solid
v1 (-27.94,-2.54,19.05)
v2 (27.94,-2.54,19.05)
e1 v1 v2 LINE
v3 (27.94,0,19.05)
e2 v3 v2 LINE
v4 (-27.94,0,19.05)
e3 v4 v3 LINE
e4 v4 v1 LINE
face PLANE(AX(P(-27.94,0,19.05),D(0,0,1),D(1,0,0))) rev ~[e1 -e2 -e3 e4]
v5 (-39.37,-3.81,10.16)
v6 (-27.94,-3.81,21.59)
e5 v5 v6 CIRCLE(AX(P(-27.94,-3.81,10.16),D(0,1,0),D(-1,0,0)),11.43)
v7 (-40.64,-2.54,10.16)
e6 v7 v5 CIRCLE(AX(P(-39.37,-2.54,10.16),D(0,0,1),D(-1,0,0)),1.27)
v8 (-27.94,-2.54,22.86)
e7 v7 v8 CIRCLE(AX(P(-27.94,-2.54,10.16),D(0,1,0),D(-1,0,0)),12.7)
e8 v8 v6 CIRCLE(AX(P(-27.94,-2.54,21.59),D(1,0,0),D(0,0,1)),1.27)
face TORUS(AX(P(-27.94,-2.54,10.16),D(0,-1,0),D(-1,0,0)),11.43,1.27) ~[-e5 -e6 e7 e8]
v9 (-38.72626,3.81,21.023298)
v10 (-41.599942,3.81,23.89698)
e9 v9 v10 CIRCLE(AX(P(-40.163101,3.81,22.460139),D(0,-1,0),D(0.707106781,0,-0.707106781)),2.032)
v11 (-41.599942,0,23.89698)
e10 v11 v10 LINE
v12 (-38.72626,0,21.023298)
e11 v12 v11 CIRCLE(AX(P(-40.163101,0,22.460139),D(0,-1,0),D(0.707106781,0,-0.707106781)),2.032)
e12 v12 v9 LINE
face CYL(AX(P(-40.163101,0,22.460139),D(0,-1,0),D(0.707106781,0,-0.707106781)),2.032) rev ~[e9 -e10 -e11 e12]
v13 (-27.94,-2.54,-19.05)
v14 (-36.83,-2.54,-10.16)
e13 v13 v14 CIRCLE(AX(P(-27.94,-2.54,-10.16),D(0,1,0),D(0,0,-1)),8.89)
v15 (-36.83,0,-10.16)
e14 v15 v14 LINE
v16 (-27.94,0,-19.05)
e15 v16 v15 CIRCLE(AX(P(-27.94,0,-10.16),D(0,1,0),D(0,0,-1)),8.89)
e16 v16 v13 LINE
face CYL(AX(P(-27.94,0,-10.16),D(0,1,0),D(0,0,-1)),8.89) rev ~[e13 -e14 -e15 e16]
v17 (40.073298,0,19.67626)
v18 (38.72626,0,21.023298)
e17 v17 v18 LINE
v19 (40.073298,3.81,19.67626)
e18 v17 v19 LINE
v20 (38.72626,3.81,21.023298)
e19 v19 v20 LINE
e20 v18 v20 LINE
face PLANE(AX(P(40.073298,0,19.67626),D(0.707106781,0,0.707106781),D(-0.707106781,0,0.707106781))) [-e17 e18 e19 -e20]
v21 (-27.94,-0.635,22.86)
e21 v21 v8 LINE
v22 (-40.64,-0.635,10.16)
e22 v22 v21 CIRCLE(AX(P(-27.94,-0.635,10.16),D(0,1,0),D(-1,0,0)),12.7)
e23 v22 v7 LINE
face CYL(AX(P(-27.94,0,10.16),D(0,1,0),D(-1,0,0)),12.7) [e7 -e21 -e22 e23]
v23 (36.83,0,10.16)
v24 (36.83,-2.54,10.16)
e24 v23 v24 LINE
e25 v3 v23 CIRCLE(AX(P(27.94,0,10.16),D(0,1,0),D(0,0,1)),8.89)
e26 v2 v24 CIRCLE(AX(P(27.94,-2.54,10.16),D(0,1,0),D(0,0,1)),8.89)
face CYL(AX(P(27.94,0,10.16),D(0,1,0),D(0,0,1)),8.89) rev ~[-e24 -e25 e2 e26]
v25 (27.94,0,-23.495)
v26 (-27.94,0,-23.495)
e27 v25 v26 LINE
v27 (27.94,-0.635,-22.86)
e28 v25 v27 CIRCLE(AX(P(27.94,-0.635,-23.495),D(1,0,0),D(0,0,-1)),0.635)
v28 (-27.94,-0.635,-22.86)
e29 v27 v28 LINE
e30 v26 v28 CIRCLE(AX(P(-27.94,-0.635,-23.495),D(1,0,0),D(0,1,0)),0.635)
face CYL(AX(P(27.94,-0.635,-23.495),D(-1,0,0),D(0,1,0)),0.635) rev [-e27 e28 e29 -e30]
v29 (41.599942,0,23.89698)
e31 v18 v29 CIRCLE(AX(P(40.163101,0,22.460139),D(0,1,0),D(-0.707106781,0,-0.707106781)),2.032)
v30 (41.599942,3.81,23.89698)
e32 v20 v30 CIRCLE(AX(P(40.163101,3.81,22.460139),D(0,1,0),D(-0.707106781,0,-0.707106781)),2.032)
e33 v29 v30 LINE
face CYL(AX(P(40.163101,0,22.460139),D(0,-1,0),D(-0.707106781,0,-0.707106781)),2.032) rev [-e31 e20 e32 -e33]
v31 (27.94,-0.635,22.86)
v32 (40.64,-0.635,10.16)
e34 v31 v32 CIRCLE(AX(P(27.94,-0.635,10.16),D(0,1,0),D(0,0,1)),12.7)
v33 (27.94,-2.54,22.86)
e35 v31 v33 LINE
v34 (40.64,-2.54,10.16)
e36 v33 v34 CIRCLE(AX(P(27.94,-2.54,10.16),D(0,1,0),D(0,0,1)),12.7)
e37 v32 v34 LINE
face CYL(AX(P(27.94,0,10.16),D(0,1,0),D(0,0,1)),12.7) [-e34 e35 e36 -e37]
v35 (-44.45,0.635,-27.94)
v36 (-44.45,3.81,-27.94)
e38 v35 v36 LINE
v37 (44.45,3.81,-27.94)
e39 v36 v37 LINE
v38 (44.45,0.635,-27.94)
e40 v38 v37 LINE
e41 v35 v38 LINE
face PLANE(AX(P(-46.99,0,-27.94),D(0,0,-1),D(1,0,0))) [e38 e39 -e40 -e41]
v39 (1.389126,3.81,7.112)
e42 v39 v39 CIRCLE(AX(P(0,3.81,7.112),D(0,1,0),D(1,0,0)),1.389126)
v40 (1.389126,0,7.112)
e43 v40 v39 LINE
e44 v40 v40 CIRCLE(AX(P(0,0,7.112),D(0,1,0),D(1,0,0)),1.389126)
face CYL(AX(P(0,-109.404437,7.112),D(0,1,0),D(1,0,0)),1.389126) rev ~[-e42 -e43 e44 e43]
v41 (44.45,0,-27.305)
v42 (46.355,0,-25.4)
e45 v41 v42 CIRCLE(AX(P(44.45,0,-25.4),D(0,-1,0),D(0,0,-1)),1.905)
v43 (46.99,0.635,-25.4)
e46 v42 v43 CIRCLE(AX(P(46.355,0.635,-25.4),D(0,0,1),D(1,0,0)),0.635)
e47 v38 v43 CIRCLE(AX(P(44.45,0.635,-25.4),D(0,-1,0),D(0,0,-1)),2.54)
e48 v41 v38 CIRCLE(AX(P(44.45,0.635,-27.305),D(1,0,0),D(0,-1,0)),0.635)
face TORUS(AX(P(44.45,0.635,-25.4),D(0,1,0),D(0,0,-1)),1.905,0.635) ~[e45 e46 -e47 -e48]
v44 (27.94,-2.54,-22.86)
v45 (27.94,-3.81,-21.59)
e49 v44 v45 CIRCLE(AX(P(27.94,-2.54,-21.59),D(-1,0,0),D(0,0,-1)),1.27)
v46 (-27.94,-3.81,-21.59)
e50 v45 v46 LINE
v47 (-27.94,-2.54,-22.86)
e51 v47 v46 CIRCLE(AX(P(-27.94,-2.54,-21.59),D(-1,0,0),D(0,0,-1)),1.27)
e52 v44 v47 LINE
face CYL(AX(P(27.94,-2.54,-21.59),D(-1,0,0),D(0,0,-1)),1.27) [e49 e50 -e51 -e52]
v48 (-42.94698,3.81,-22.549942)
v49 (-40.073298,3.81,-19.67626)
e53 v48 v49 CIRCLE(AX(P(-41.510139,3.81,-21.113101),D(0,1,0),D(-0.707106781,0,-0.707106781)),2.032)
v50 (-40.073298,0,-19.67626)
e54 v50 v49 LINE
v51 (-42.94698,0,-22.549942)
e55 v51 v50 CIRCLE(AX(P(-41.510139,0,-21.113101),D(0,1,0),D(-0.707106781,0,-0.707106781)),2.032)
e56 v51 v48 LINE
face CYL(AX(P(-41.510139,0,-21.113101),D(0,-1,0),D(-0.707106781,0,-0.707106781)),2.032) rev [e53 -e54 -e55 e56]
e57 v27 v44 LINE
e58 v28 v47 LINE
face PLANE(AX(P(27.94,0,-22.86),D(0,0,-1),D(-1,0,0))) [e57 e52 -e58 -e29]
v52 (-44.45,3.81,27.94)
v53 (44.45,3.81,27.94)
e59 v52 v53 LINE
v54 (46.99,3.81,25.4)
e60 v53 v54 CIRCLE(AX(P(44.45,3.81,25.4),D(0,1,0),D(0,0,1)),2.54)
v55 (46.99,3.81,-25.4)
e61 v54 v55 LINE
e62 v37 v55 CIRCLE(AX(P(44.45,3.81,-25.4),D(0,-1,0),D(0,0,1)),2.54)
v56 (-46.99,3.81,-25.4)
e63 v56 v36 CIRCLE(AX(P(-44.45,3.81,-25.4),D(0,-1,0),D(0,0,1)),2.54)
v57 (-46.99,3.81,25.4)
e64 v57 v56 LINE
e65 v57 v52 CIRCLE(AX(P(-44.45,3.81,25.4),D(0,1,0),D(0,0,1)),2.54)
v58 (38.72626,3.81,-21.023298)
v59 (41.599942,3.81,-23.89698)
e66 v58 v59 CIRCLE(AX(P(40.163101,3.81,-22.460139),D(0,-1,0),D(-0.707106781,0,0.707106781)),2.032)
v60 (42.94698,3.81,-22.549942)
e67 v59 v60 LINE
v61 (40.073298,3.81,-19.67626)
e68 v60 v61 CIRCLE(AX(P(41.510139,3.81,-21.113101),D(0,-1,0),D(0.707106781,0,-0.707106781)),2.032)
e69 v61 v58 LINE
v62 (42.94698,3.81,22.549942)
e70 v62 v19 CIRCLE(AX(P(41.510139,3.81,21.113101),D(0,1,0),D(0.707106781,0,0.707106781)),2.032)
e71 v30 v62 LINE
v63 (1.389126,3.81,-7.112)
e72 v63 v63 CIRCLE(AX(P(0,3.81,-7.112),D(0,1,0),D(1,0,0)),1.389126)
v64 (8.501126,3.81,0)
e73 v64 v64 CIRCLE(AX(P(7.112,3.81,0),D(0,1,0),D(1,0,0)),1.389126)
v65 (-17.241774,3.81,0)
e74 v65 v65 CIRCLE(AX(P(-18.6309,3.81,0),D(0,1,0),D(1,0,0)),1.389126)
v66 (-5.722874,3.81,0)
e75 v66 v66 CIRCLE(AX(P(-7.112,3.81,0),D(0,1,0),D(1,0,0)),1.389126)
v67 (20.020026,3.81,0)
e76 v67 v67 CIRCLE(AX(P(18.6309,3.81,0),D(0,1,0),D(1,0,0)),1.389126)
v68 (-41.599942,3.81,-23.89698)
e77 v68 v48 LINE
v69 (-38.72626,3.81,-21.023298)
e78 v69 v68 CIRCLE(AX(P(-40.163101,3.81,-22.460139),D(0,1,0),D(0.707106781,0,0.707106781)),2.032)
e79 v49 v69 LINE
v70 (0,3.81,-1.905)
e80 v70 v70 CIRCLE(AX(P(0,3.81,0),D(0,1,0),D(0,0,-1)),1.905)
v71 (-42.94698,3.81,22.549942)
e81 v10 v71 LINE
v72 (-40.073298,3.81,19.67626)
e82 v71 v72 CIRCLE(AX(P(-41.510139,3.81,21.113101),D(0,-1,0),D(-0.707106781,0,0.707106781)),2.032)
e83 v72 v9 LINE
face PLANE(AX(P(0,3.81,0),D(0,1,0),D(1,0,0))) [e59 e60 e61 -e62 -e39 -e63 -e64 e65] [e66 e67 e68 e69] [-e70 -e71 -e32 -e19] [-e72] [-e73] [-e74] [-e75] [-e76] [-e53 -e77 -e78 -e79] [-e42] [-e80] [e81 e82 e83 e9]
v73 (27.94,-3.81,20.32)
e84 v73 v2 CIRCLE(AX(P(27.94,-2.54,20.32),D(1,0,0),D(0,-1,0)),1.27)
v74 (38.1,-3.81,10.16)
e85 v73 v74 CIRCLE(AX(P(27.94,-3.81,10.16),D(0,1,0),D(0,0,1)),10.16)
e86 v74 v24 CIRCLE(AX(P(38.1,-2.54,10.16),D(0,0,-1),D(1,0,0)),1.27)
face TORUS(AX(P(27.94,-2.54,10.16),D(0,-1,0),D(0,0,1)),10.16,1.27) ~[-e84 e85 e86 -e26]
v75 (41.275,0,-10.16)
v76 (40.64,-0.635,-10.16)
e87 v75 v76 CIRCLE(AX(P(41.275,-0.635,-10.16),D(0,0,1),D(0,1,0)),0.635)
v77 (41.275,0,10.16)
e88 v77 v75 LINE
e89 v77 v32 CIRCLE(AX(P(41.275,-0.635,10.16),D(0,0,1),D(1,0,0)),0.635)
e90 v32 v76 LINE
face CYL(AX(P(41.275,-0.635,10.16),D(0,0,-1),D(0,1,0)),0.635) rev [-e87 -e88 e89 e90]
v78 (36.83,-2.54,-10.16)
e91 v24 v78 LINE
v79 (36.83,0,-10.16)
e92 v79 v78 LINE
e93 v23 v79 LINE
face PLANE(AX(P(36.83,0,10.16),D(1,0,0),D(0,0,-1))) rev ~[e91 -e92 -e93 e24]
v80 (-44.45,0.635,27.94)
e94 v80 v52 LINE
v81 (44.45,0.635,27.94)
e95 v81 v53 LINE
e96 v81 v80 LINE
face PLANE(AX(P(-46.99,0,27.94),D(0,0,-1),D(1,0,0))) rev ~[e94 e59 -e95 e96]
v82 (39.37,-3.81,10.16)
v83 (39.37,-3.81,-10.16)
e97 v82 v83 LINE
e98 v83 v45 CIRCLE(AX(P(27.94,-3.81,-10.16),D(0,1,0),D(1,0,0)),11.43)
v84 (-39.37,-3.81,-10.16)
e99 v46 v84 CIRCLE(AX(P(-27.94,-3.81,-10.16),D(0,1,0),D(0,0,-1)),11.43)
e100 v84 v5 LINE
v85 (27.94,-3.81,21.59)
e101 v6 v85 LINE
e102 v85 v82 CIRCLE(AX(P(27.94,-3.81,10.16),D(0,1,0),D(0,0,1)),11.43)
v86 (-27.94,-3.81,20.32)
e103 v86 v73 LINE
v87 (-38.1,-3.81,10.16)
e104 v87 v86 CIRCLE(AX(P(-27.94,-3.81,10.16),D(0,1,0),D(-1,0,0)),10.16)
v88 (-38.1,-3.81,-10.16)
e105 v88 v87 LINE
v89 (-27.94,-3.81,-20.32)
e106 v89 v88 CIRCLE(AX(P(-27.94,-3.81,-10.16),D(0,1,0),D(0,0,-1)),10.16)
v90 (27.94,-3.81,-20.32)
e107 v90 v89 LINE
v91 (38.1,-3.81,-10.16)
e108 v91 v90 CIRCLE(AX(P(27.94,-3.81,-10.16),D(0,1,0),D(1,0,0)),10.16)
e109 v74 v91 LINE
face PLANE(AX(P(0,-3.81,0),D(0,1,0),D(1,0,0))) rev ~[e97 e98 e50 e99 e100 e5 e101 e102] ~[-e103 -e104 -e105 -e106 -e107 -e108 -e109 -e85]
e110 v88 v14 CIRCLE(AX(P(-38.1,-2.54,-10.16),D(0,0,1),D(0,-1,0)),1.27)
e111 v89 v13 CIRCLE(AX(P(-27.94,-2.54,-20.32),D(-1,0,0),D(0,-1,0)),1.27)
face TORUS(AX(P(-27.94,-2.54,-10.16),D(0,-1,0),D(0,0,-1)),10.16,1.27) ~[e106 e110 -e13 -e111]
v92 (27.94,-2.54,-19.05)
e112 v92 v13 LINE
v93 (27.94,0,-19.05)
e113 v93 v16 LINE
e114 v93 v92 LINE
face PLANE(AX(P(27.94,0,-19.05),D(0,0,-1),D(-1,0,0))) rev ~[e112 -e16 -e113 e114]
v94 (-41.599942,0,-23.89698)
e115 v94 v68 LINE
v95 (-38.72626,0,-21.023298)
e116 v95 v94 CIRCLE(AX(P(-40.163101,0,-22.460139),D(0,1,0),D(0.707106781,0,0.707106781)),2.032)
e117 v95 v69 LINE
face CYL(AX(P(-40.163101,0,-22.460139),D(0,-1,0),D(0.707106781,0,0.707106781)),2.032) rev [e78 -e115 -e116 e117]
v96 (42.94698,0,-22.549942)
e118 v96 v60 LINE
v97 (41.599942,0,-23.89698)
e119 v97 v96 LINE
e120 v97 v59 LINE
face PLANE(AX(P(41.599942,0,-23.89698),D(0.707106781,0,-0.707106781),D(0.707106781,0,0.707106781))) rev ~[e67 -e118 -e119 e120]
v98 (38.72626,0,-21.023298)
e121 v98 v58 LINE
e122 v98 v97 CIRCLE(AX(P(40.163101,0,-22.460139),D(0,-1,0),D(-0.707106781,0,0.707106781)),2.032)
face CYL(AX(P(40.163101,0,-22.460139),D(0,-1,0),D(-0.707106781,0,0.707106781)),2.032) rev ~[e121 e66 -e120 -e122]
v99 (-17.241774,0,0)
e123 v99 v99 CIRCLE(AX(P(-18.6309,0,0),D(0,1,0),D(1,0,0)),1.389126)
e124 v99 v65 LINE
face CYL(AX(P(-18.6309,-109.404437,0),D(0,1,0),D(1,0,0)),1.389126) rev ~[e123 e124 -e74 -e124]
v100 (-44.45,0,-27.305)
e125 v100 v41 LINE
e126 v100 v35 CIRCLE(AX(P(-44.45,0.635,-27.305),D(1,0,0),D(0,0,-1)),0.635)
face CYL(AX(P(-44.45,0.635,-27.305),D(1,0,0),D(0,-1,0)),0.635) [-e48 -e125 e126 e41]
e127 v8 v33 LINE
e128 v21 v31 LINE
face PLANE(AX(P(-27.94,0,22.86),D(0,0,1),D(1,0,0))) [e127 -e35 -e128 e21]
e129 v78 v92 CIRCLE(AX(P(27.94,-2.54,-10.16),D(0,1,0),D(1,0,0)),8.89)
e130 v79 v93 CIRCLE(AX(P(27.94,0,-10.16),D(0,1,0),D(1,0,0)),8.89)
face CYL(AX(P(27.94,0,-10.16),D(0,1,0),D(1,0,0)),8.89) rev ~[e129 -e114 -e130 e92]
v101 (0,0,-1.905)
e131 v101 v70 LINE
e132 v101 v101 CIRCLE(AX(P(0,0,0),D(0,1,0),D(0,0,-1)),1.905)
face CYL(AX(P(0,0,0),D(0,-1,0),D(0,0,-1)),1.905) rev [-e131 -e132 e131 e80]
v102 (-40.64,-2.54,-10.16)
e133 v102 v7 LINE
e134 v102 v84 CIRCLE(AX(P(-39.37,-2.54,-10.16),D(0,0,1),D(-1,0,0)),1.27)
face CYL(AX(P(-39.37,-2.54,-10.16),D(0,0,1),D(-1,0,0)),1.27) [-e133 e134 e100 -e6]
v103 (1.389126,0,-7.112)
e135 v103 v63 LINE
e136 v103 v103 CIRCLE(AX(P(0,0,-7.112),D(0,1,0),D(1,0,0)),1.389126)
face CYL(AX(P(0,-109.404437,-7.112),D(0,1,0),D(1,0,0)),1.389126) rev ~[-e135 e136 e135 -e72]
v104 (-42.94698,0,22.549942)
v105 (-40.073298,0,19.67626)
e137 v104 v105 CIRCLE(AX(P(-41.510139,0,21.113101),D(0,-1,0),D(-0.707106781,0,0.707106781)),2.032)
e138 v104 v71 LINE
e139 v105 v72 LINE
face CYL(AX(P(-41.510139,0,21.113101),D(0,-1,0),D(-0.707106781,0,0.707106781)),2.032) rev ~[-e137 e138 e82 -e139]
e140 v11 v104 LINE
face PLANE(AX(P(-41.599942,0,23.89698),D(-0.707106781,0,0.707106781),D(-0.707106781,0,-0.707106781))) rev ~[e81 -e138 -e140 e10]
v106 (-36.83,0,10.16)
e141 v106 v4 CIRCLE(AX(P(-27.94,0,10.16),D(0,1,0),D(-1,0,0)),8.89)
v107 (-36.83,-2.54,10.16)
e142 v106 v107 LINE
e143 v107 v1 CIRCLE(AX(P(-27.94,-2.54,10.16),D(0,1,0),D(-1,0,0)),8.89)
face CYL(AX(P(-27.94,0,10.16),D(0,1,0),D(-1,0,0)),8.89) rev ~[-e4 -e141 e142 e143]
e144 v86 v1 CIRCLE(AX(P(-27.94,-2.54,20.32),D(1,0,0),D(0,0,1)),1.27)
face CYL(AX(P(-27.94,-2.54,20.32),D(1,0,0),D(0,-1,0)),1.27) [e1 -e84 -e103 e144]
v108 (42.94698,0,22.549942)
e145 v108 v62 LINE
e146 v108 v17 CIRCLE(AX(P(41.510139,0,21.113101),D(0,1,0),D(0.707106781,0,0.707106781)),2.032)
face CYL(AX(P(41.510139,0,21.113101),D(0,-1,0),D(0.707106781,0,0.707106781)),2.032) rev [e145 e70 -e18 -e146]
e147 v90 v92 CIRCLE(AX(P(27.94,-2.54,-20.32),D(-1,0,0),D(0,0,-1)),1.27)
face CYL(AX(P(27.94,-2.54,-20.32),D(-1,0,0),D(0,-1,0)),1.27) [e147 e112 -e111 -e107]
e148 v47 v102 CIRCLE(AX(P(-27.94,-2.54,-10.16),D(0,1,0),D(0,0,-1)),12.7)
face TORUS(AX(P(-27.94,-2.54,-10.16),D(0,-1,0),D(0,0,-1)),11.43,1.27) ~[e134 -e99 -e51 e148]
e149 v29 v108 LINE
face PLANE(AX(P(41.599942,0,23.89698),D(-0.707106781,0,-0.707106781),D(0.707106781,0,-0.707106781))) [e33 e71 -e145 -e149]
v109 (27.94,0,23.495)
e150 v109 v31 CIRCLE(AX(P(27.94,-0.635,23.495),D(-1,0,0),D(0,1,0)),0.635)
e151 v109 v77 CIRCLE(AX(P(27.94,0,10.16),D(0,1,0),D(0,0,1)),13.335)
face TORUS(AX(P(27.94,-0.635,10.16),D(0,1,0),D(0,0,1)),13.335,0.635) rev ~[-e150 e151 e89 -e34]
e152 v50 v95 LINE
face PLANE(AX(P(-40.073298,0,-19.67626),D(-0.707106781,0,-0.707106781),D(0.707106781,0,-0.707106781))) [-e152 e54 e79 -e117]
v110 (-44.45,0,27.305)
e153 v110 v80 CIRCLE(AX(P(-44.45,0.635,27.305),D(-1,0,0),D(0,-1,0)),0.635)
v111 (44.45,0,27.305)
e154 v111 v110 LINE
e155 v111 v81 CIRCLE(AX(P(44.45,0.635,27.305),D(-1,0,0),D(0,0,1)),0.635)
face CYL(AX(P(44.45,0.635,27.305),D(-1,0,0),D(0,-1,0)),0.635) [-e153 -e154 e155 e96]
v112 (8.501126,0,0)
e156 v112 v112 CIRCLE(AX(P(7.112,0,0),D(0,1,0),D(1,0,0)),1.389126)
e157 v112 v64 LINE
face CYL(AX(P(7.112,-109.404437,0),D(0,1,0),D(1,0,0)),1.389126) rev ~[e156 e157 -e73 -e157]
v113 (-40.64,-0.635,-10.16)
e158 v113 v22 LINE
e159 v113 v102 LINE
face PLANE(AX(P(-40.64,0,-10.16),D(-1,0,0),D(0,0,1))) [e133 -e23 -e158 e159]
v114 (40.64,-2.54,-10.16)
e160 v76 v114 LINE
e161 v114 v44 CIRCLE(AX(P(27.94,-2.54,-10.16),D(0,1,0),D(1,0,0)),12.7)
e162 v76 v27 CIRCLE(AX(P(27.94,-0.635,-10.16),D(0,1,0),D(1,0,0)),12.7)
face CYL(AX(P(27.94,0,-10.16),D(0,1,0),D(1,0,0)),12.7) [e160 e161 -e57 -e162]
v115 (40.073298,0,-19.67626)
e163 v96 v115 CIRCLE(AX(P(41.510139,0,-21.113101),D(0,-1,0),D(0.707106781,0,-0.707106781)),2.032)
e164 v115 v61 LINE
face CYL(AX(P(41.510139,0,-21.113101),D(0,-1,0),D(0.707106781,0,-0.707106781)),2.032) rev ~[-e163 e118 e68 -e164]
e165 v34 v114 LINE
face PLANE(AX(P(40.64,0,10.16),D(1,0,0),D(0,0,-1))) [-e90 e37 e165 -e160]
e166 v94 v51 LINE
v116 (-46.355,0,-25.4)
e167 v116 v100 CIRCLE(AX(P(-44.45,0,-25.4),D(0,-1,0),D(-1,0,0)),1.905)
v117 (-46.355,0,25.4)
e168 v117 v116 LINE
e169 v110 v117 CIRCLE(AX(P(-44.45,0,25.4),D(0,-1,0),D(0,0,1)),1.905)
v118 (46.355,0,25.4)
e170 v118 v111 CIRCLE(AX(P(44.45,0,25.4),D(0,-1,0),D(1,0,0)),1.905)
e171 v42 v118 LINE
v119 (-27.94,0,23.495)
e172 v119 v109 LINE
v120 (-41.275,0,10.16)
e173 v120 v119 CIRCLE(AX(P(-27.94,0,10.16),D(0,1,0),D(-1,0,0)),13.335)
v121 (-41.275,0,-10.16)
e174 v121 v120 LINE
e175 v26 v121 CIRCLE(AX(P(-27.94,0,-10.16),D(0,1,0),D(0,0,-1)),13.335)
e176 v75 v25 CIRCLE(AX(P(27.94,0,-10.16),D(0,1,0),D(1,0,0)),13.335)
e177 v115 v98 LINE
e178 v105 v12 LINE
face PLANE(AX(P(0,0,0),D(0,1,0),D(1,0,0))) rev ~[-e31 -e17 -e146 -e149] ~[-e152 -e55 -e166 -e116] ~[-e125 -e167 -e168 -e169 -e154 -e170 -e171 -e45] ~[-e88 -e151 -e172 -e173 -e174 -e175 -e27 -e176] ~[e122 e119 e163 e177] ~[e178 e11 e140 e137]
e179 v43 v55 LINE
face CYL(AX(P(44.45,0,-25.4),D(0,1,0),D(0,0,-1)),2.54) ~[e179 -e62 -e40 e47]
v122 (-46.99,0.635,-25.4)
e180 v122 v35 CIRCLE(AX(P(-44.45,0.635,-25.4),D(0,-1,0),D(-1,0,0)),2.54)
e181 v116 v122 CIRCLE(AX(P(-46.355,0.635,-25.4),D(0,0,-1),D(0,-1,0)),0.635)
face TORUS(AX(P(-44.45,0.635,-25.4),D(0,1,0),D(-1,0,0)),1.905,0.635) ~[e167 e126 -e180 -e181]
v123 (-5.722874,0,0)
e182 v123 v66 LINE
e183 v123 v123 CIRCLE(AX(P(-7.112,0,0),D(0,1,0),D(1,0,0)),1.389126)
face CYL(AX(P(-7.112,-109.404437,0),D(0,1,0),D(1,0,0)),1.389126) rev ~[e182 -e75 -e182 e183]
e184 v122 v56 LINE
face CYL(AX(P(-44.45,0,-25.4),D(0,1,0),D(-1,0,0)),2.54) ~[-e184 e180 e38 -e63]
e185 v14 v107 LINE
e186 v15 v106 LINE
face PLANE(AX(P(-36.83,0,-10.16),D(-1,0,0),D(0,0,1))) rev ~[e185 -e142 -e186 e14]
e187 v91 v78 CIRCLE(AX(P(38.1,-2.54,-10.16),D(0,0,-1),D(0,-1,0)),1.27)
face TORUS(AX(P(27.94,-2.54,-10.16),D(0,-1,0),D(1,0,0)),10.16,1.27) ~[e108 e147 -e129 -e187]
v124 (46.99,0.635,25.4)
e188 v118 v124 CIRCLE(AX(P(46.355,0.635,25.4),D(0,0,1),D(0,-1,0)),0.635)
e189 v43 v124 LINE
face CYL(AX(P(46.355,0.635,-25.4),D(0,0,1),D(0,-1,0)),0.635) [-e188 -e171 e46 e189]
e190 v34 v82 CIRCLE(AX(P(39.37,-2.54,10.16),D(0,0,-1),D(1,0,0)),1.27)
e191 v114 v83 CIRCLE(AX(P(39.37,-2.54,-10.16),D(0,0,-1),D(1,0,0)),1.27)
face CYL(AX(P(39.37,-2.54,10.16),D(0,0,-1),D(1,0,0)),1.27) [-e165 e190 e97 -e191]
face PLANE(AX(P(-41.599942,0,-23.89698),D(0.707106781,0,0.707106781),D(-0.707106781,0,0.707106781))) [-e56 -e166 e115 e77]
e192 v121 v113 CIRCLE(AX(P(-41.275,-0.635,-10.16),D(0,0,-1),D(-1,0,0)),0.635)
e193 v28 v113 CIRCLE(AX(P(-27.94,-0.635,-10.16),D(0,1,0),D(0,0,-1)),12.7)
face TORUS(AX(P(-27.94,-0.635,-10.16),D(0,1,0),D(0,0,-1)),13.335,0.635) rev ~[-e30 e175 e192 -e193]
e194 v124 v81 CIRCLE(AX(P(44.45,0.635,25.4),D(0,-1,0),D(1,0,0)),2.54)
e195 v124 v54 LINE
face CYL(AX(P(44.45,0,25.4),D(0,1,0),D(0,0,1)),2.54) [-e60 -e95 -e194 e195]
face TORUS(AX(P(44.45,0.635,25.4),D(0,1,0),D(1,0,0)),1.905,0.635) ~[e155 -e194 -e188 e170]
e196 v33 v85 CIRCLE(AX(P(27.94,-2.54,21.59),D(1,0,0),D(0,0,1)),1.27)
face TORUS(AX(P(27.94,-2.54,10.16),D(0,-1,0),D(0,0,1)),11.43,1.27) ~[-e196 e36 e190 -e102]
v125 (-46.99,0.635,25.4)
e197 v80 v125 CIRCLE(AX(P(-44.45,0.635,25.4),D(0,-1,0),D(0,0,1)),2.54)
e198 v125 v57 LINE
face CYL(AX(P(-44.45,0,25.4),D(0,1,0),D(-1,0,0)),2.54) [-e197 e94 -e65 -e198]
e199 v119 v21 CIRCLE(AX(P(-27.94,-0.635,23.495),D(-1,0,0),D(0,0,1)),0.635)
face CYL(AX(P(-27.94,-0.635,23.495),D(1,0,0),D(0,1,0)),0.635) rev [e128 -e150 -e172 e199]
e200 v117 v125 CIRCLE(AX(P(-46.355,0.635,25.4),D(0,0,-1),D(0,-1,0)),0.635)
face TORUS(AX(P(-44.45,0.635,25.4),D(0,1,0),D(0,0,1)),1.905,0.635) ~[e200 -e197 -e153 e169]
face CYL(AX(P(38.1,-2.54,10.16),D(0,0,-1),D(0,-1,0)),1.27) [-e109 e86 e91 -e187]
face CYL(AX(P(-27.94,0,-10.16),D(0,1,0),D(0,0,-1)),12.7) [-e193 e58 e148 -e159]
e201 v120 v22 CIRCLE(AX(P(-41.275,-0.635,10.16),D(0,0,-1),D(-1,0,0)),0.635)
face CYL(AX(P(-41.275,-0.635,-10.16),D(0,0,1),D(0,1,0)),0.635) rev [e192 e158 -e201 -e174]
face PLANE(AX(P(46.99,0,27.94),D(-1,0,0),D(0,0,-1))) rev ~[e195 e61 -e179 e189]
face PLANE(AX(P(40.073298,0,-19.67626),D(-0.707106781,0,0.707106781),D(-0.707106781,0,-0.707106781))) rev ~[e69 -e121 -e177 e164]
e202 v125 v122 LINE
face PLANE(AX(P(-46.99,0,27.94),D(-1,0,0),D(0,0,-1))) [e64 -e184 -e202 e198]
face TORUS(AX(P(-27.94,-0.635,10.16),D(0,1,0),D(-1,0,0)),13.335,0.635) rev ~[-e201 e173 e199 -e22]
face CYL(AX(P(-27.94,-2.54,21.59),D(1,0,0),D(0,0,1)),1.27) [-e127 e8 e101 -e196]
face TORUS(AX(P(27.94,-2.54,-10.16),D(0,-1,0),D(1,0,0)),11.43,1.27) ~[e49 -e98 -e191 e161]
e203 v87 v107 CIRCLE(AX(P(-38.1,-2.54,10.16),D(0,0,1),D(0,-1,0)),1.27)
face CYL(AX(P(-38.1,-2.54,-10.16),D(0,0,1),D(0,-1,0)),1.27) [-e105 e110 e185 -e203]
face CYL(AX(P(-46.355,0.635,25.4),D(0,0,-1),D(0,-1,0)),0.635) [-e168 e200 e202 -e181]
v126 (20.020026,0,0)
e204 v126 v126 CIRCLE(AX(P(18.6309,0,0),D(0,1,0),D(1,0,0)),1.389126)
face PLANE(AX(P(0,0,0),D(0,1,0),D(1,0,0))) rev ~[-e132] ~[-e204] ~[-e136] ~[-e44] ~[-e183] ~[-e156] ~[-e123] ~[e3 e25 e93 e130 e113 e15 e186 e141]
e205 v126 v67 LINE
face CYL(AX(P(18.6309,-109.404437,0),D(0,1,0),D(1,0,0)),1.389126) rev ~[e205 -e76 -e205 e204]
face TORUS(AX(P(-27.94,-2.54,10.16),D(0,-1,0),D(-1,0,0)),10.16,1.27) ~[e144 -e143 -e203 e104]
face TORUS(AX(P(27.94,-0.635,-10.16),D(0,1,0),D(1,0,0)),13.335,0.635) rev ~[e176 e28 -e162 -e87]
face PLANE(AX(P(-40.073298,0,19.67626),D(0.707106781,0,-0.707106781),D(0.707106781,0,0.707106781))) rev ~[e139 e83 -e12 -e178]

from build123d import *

# Parameters (mm, degrees)
SKETCH1_W                       = 93.98
SKETCH1_H                       = 55.88
SKETCH1_R                       = 1.905
BOSS_EXTRUDE1_DEPTH             = 3.81
F_7_64_0_10938_DIAMETER_HOLE1_D = 2.778252
FILLET1_R                       = 2.54
EXTRUDE_THIN1_DEPTH             = 3.81
FILLET2_R                       = 1.27
FILLET3_R                       = 0.635


with BuildPart() as part:
    # Sketch1 → Boss-Extrude1 (new body)
    with BuildSketch(Plane(origin=(0, 0, 0), x_dir=(1, 0, 0), z_dir=(0, 1, 0))):
        Rectangle(SKETCH1_W, SKETCH1_H)
        with Locations(Location((0, 0, 0), (0, 0, 90))):
            Circle(SKETCH1_R, mode=Mode.SUBTRACT)
        with BuildLine():
            Line((40.073298182, 19.676259764), (38.726259764, 21.023298182))
            ThreePointArc((38.726259764, 21.023298182), (38.726259764, 23.896980141), (41.599941723, 23.896980141))
            Line((41.599941723, 23.896980141), (42.946980141, 22.549941723))
            ThreePointArc((42.946980141, 22.549941723), (42.946980141, 19.676259764), (40.073298182, 19.676259764))
        make_face(mode=Mode.SUBTRACT)
        with BuildLine():
            Line((-40.073298182, 19.676259764), (-38.726259764, 21.023298182))
            ThreePointArc((-38.726259764, 21.023298182), (-38.726259764, 23.896980141), (-41.599941723, 23.896980141))
            Line((-41.599941723, 23.896980141), (-42.946980141, 22.549941723))
            ThreePointArc((-42.946980141, 22.549941723), (-42.946980141, 19.676259764), (-40.073298182, 19.676259764))
        make_face(mode=Mode.SUBTRACT)
        with BuildLine():
            Line((40.073298182, -19.676259764), (38.726259764, -21.023298182))
            ThreePointArc((38.726259764, -21.023298182), (38.726259764, -23.896980141), (41.599941723, -23.896980141))
            Line((41.599941723, -23.896980141), (42.946980141, -22.549941723))
            ThreePointArc((42.946980141, -22.549941723), (42.946980141, -19.676259764), (40.073298182, -19.676259764))
        make_face(mode=Mode.SUBTRACT)
        with BuildLine():
            Line((-40.073298182, -19.676259764), (-38.726259764, -21.023298182))
            ThreePointArc((-38.726259764, -21.023298182), (-38.726259764, -23.896980141), (-41.599941723, -23.896980141))
            Line((-41.599941723, -23.896980141), (-42.946980141, -22.549941723))
            ThreePointArc((-42.946980141, -22.549941723), (-42.946980141, -19.676259764), (-40.073298182, -19.676259764))
        make_face(mode=Mode.SUBTRACT)
    extrude(amount=BOSS_EXTRUDE1_DEPTH)

    # 7/64 (0.10938) Diameter Hole1 (through all)
    with Locations(Plane(origin=(0, 0, 0), x_dir=(-1, 0, 0), z_dir=(0, -1, 0))):
        with Locations((-18.6309, 0), (0, 7.112), (-7.112, 0), (7.112, 0), (18.6309, 0), (0, -7.112)):
            Hole(F_7_64_0_10938_DIAMETER_HOLE1_D / 2)

    # Fillet1
    fillet1_edges = [part.edges().sort_by_distance(p)[0] for p in [
        (-46.99, 1.905, 27.94),
        (46.99, 1.905, 27.94),
        (46.99, 1.905, -27.94),
        (-46.99, 1.905, -27.94),
    ]]
    fillet(fillet1_edges, radius=FILLET1_R)

    # Sketch4 → Extrude-Thin1 (add)
    with BuildSketch(Plane(origin=(0, 0, 0), x_dir=(1, 0, 0), z_dir=(0, 1, 0))):
        with BuildLine():
            Line((-40.64, 10.16), (-40.64, -10.16))
            ThreePointArc((-40.64, -10.16), (-36.920256121, -19.140256121), (-27.94, -22.86))
            Line((-27.94, -22.86), (27.94, -22.86))
            ThreePointArc((27.94, -22.86), (36.920256121, -19.140256121), (40.64, -10.16))
            Line((40.64, -10.16), (40.64, 10.16))
            ThreePointArc((40.64, 10.16), (36.920256121, 19.140256121), (27.94, 22.86))
            Line((27.94, 22.86), (-27.94, 22.86))
            ThreePointArc((-27.94, 22.86), (-36.920256121, 19.140256121), (-40.64, 10.16))
        make_face()
        with BuildLine():
            Line((-36.83, 10.16), (-36.83, -10.16))
            ThreePointArc((-36.83, -10.16), (-34.226179285, -16.446179285), (-27.94, -19.05))
            Line((-27.94, -19.05), (27.94, -19.05))
            ThreePointArc((27.94, -19.05), (34.226179285, -16.446179285), (36.83, -10.16))
            Line((36.83, -10.16), (36.83, 10.16))
            ThreePointArc((36.83, 10.16), (34.226179285, 16.446179285), (27.94, 19.05))
            Line((27.94, 19.05), (-27.94, 19.05))
            ThreePointArc((-27.94, 19.05), (-34.226179285, 16.446179285), (-36.83, 10.16))
        make_face(mode=Mode.SUBTRACT)
    extrude(amount=-EXTRUDE_THIN1_DEPTH)

    # Fillet2
    fillet2_edges = [part.edges().sort_by_distance(p)[0] for p in [
        (-36.920256121, -3.81, 19.140256121),
        (-40.64, -3.81, 0),
        (-36.920256121, -3.81, -19.140256121),
        (0, -3.81, -22.86),
        (36.920256121, -3.81, -19.140256121),
        (40.64, -3.81, 0),
        (36.920256121, -3.81, 19.140256121),
        (0, -3.81, 22.86),
        (-36.83, -3.81, 0),
        (-34.226179285, -3.81, 16.446179285),
        (0, -3.81, 19.05),
        (34.226179285, -3.81, 16.446179285),
        (36.83, -3.81, 0),
        (34.226179285, -3.81, -16.446179285),
        (0, -3.81, -19.05),
        (-34.226179285, -3.81, -16.446179285),
    ]]
    fillet(fillet2_edges, radius=FILLET2_R)

    # Fillet3
    fillet3_edges = [part.edges().sort_by_distance(p)[0] for p in [
        (-46.99, 0, 0),
        (0, 0, -27.94),
        (46.99, 0, 0),
        (0, 0, 27.94),
        (46.246051224, 0, 27.196051224),
        (46.246051224, 0, -27.196051224),
        (-46.246051224, 0, 27.196051224),
        (-46.246051224, 0, -27.196051224),
        (-36.920256121, 0, 19.140256121),
        (0, 0, 22.86),
        (36.920256121, 0, 19.140256121),
        (40.64, 0, 0),
        (36.920256121, 0, -19.140256121),
        (0, 0, -22.86),
        (-36.920256121, 0, -19.140256121),
        (-40.64, 0, 0),
    ]]
    fillet(fillet3_edges, radius=FILLET3_R)


solid = part.part
